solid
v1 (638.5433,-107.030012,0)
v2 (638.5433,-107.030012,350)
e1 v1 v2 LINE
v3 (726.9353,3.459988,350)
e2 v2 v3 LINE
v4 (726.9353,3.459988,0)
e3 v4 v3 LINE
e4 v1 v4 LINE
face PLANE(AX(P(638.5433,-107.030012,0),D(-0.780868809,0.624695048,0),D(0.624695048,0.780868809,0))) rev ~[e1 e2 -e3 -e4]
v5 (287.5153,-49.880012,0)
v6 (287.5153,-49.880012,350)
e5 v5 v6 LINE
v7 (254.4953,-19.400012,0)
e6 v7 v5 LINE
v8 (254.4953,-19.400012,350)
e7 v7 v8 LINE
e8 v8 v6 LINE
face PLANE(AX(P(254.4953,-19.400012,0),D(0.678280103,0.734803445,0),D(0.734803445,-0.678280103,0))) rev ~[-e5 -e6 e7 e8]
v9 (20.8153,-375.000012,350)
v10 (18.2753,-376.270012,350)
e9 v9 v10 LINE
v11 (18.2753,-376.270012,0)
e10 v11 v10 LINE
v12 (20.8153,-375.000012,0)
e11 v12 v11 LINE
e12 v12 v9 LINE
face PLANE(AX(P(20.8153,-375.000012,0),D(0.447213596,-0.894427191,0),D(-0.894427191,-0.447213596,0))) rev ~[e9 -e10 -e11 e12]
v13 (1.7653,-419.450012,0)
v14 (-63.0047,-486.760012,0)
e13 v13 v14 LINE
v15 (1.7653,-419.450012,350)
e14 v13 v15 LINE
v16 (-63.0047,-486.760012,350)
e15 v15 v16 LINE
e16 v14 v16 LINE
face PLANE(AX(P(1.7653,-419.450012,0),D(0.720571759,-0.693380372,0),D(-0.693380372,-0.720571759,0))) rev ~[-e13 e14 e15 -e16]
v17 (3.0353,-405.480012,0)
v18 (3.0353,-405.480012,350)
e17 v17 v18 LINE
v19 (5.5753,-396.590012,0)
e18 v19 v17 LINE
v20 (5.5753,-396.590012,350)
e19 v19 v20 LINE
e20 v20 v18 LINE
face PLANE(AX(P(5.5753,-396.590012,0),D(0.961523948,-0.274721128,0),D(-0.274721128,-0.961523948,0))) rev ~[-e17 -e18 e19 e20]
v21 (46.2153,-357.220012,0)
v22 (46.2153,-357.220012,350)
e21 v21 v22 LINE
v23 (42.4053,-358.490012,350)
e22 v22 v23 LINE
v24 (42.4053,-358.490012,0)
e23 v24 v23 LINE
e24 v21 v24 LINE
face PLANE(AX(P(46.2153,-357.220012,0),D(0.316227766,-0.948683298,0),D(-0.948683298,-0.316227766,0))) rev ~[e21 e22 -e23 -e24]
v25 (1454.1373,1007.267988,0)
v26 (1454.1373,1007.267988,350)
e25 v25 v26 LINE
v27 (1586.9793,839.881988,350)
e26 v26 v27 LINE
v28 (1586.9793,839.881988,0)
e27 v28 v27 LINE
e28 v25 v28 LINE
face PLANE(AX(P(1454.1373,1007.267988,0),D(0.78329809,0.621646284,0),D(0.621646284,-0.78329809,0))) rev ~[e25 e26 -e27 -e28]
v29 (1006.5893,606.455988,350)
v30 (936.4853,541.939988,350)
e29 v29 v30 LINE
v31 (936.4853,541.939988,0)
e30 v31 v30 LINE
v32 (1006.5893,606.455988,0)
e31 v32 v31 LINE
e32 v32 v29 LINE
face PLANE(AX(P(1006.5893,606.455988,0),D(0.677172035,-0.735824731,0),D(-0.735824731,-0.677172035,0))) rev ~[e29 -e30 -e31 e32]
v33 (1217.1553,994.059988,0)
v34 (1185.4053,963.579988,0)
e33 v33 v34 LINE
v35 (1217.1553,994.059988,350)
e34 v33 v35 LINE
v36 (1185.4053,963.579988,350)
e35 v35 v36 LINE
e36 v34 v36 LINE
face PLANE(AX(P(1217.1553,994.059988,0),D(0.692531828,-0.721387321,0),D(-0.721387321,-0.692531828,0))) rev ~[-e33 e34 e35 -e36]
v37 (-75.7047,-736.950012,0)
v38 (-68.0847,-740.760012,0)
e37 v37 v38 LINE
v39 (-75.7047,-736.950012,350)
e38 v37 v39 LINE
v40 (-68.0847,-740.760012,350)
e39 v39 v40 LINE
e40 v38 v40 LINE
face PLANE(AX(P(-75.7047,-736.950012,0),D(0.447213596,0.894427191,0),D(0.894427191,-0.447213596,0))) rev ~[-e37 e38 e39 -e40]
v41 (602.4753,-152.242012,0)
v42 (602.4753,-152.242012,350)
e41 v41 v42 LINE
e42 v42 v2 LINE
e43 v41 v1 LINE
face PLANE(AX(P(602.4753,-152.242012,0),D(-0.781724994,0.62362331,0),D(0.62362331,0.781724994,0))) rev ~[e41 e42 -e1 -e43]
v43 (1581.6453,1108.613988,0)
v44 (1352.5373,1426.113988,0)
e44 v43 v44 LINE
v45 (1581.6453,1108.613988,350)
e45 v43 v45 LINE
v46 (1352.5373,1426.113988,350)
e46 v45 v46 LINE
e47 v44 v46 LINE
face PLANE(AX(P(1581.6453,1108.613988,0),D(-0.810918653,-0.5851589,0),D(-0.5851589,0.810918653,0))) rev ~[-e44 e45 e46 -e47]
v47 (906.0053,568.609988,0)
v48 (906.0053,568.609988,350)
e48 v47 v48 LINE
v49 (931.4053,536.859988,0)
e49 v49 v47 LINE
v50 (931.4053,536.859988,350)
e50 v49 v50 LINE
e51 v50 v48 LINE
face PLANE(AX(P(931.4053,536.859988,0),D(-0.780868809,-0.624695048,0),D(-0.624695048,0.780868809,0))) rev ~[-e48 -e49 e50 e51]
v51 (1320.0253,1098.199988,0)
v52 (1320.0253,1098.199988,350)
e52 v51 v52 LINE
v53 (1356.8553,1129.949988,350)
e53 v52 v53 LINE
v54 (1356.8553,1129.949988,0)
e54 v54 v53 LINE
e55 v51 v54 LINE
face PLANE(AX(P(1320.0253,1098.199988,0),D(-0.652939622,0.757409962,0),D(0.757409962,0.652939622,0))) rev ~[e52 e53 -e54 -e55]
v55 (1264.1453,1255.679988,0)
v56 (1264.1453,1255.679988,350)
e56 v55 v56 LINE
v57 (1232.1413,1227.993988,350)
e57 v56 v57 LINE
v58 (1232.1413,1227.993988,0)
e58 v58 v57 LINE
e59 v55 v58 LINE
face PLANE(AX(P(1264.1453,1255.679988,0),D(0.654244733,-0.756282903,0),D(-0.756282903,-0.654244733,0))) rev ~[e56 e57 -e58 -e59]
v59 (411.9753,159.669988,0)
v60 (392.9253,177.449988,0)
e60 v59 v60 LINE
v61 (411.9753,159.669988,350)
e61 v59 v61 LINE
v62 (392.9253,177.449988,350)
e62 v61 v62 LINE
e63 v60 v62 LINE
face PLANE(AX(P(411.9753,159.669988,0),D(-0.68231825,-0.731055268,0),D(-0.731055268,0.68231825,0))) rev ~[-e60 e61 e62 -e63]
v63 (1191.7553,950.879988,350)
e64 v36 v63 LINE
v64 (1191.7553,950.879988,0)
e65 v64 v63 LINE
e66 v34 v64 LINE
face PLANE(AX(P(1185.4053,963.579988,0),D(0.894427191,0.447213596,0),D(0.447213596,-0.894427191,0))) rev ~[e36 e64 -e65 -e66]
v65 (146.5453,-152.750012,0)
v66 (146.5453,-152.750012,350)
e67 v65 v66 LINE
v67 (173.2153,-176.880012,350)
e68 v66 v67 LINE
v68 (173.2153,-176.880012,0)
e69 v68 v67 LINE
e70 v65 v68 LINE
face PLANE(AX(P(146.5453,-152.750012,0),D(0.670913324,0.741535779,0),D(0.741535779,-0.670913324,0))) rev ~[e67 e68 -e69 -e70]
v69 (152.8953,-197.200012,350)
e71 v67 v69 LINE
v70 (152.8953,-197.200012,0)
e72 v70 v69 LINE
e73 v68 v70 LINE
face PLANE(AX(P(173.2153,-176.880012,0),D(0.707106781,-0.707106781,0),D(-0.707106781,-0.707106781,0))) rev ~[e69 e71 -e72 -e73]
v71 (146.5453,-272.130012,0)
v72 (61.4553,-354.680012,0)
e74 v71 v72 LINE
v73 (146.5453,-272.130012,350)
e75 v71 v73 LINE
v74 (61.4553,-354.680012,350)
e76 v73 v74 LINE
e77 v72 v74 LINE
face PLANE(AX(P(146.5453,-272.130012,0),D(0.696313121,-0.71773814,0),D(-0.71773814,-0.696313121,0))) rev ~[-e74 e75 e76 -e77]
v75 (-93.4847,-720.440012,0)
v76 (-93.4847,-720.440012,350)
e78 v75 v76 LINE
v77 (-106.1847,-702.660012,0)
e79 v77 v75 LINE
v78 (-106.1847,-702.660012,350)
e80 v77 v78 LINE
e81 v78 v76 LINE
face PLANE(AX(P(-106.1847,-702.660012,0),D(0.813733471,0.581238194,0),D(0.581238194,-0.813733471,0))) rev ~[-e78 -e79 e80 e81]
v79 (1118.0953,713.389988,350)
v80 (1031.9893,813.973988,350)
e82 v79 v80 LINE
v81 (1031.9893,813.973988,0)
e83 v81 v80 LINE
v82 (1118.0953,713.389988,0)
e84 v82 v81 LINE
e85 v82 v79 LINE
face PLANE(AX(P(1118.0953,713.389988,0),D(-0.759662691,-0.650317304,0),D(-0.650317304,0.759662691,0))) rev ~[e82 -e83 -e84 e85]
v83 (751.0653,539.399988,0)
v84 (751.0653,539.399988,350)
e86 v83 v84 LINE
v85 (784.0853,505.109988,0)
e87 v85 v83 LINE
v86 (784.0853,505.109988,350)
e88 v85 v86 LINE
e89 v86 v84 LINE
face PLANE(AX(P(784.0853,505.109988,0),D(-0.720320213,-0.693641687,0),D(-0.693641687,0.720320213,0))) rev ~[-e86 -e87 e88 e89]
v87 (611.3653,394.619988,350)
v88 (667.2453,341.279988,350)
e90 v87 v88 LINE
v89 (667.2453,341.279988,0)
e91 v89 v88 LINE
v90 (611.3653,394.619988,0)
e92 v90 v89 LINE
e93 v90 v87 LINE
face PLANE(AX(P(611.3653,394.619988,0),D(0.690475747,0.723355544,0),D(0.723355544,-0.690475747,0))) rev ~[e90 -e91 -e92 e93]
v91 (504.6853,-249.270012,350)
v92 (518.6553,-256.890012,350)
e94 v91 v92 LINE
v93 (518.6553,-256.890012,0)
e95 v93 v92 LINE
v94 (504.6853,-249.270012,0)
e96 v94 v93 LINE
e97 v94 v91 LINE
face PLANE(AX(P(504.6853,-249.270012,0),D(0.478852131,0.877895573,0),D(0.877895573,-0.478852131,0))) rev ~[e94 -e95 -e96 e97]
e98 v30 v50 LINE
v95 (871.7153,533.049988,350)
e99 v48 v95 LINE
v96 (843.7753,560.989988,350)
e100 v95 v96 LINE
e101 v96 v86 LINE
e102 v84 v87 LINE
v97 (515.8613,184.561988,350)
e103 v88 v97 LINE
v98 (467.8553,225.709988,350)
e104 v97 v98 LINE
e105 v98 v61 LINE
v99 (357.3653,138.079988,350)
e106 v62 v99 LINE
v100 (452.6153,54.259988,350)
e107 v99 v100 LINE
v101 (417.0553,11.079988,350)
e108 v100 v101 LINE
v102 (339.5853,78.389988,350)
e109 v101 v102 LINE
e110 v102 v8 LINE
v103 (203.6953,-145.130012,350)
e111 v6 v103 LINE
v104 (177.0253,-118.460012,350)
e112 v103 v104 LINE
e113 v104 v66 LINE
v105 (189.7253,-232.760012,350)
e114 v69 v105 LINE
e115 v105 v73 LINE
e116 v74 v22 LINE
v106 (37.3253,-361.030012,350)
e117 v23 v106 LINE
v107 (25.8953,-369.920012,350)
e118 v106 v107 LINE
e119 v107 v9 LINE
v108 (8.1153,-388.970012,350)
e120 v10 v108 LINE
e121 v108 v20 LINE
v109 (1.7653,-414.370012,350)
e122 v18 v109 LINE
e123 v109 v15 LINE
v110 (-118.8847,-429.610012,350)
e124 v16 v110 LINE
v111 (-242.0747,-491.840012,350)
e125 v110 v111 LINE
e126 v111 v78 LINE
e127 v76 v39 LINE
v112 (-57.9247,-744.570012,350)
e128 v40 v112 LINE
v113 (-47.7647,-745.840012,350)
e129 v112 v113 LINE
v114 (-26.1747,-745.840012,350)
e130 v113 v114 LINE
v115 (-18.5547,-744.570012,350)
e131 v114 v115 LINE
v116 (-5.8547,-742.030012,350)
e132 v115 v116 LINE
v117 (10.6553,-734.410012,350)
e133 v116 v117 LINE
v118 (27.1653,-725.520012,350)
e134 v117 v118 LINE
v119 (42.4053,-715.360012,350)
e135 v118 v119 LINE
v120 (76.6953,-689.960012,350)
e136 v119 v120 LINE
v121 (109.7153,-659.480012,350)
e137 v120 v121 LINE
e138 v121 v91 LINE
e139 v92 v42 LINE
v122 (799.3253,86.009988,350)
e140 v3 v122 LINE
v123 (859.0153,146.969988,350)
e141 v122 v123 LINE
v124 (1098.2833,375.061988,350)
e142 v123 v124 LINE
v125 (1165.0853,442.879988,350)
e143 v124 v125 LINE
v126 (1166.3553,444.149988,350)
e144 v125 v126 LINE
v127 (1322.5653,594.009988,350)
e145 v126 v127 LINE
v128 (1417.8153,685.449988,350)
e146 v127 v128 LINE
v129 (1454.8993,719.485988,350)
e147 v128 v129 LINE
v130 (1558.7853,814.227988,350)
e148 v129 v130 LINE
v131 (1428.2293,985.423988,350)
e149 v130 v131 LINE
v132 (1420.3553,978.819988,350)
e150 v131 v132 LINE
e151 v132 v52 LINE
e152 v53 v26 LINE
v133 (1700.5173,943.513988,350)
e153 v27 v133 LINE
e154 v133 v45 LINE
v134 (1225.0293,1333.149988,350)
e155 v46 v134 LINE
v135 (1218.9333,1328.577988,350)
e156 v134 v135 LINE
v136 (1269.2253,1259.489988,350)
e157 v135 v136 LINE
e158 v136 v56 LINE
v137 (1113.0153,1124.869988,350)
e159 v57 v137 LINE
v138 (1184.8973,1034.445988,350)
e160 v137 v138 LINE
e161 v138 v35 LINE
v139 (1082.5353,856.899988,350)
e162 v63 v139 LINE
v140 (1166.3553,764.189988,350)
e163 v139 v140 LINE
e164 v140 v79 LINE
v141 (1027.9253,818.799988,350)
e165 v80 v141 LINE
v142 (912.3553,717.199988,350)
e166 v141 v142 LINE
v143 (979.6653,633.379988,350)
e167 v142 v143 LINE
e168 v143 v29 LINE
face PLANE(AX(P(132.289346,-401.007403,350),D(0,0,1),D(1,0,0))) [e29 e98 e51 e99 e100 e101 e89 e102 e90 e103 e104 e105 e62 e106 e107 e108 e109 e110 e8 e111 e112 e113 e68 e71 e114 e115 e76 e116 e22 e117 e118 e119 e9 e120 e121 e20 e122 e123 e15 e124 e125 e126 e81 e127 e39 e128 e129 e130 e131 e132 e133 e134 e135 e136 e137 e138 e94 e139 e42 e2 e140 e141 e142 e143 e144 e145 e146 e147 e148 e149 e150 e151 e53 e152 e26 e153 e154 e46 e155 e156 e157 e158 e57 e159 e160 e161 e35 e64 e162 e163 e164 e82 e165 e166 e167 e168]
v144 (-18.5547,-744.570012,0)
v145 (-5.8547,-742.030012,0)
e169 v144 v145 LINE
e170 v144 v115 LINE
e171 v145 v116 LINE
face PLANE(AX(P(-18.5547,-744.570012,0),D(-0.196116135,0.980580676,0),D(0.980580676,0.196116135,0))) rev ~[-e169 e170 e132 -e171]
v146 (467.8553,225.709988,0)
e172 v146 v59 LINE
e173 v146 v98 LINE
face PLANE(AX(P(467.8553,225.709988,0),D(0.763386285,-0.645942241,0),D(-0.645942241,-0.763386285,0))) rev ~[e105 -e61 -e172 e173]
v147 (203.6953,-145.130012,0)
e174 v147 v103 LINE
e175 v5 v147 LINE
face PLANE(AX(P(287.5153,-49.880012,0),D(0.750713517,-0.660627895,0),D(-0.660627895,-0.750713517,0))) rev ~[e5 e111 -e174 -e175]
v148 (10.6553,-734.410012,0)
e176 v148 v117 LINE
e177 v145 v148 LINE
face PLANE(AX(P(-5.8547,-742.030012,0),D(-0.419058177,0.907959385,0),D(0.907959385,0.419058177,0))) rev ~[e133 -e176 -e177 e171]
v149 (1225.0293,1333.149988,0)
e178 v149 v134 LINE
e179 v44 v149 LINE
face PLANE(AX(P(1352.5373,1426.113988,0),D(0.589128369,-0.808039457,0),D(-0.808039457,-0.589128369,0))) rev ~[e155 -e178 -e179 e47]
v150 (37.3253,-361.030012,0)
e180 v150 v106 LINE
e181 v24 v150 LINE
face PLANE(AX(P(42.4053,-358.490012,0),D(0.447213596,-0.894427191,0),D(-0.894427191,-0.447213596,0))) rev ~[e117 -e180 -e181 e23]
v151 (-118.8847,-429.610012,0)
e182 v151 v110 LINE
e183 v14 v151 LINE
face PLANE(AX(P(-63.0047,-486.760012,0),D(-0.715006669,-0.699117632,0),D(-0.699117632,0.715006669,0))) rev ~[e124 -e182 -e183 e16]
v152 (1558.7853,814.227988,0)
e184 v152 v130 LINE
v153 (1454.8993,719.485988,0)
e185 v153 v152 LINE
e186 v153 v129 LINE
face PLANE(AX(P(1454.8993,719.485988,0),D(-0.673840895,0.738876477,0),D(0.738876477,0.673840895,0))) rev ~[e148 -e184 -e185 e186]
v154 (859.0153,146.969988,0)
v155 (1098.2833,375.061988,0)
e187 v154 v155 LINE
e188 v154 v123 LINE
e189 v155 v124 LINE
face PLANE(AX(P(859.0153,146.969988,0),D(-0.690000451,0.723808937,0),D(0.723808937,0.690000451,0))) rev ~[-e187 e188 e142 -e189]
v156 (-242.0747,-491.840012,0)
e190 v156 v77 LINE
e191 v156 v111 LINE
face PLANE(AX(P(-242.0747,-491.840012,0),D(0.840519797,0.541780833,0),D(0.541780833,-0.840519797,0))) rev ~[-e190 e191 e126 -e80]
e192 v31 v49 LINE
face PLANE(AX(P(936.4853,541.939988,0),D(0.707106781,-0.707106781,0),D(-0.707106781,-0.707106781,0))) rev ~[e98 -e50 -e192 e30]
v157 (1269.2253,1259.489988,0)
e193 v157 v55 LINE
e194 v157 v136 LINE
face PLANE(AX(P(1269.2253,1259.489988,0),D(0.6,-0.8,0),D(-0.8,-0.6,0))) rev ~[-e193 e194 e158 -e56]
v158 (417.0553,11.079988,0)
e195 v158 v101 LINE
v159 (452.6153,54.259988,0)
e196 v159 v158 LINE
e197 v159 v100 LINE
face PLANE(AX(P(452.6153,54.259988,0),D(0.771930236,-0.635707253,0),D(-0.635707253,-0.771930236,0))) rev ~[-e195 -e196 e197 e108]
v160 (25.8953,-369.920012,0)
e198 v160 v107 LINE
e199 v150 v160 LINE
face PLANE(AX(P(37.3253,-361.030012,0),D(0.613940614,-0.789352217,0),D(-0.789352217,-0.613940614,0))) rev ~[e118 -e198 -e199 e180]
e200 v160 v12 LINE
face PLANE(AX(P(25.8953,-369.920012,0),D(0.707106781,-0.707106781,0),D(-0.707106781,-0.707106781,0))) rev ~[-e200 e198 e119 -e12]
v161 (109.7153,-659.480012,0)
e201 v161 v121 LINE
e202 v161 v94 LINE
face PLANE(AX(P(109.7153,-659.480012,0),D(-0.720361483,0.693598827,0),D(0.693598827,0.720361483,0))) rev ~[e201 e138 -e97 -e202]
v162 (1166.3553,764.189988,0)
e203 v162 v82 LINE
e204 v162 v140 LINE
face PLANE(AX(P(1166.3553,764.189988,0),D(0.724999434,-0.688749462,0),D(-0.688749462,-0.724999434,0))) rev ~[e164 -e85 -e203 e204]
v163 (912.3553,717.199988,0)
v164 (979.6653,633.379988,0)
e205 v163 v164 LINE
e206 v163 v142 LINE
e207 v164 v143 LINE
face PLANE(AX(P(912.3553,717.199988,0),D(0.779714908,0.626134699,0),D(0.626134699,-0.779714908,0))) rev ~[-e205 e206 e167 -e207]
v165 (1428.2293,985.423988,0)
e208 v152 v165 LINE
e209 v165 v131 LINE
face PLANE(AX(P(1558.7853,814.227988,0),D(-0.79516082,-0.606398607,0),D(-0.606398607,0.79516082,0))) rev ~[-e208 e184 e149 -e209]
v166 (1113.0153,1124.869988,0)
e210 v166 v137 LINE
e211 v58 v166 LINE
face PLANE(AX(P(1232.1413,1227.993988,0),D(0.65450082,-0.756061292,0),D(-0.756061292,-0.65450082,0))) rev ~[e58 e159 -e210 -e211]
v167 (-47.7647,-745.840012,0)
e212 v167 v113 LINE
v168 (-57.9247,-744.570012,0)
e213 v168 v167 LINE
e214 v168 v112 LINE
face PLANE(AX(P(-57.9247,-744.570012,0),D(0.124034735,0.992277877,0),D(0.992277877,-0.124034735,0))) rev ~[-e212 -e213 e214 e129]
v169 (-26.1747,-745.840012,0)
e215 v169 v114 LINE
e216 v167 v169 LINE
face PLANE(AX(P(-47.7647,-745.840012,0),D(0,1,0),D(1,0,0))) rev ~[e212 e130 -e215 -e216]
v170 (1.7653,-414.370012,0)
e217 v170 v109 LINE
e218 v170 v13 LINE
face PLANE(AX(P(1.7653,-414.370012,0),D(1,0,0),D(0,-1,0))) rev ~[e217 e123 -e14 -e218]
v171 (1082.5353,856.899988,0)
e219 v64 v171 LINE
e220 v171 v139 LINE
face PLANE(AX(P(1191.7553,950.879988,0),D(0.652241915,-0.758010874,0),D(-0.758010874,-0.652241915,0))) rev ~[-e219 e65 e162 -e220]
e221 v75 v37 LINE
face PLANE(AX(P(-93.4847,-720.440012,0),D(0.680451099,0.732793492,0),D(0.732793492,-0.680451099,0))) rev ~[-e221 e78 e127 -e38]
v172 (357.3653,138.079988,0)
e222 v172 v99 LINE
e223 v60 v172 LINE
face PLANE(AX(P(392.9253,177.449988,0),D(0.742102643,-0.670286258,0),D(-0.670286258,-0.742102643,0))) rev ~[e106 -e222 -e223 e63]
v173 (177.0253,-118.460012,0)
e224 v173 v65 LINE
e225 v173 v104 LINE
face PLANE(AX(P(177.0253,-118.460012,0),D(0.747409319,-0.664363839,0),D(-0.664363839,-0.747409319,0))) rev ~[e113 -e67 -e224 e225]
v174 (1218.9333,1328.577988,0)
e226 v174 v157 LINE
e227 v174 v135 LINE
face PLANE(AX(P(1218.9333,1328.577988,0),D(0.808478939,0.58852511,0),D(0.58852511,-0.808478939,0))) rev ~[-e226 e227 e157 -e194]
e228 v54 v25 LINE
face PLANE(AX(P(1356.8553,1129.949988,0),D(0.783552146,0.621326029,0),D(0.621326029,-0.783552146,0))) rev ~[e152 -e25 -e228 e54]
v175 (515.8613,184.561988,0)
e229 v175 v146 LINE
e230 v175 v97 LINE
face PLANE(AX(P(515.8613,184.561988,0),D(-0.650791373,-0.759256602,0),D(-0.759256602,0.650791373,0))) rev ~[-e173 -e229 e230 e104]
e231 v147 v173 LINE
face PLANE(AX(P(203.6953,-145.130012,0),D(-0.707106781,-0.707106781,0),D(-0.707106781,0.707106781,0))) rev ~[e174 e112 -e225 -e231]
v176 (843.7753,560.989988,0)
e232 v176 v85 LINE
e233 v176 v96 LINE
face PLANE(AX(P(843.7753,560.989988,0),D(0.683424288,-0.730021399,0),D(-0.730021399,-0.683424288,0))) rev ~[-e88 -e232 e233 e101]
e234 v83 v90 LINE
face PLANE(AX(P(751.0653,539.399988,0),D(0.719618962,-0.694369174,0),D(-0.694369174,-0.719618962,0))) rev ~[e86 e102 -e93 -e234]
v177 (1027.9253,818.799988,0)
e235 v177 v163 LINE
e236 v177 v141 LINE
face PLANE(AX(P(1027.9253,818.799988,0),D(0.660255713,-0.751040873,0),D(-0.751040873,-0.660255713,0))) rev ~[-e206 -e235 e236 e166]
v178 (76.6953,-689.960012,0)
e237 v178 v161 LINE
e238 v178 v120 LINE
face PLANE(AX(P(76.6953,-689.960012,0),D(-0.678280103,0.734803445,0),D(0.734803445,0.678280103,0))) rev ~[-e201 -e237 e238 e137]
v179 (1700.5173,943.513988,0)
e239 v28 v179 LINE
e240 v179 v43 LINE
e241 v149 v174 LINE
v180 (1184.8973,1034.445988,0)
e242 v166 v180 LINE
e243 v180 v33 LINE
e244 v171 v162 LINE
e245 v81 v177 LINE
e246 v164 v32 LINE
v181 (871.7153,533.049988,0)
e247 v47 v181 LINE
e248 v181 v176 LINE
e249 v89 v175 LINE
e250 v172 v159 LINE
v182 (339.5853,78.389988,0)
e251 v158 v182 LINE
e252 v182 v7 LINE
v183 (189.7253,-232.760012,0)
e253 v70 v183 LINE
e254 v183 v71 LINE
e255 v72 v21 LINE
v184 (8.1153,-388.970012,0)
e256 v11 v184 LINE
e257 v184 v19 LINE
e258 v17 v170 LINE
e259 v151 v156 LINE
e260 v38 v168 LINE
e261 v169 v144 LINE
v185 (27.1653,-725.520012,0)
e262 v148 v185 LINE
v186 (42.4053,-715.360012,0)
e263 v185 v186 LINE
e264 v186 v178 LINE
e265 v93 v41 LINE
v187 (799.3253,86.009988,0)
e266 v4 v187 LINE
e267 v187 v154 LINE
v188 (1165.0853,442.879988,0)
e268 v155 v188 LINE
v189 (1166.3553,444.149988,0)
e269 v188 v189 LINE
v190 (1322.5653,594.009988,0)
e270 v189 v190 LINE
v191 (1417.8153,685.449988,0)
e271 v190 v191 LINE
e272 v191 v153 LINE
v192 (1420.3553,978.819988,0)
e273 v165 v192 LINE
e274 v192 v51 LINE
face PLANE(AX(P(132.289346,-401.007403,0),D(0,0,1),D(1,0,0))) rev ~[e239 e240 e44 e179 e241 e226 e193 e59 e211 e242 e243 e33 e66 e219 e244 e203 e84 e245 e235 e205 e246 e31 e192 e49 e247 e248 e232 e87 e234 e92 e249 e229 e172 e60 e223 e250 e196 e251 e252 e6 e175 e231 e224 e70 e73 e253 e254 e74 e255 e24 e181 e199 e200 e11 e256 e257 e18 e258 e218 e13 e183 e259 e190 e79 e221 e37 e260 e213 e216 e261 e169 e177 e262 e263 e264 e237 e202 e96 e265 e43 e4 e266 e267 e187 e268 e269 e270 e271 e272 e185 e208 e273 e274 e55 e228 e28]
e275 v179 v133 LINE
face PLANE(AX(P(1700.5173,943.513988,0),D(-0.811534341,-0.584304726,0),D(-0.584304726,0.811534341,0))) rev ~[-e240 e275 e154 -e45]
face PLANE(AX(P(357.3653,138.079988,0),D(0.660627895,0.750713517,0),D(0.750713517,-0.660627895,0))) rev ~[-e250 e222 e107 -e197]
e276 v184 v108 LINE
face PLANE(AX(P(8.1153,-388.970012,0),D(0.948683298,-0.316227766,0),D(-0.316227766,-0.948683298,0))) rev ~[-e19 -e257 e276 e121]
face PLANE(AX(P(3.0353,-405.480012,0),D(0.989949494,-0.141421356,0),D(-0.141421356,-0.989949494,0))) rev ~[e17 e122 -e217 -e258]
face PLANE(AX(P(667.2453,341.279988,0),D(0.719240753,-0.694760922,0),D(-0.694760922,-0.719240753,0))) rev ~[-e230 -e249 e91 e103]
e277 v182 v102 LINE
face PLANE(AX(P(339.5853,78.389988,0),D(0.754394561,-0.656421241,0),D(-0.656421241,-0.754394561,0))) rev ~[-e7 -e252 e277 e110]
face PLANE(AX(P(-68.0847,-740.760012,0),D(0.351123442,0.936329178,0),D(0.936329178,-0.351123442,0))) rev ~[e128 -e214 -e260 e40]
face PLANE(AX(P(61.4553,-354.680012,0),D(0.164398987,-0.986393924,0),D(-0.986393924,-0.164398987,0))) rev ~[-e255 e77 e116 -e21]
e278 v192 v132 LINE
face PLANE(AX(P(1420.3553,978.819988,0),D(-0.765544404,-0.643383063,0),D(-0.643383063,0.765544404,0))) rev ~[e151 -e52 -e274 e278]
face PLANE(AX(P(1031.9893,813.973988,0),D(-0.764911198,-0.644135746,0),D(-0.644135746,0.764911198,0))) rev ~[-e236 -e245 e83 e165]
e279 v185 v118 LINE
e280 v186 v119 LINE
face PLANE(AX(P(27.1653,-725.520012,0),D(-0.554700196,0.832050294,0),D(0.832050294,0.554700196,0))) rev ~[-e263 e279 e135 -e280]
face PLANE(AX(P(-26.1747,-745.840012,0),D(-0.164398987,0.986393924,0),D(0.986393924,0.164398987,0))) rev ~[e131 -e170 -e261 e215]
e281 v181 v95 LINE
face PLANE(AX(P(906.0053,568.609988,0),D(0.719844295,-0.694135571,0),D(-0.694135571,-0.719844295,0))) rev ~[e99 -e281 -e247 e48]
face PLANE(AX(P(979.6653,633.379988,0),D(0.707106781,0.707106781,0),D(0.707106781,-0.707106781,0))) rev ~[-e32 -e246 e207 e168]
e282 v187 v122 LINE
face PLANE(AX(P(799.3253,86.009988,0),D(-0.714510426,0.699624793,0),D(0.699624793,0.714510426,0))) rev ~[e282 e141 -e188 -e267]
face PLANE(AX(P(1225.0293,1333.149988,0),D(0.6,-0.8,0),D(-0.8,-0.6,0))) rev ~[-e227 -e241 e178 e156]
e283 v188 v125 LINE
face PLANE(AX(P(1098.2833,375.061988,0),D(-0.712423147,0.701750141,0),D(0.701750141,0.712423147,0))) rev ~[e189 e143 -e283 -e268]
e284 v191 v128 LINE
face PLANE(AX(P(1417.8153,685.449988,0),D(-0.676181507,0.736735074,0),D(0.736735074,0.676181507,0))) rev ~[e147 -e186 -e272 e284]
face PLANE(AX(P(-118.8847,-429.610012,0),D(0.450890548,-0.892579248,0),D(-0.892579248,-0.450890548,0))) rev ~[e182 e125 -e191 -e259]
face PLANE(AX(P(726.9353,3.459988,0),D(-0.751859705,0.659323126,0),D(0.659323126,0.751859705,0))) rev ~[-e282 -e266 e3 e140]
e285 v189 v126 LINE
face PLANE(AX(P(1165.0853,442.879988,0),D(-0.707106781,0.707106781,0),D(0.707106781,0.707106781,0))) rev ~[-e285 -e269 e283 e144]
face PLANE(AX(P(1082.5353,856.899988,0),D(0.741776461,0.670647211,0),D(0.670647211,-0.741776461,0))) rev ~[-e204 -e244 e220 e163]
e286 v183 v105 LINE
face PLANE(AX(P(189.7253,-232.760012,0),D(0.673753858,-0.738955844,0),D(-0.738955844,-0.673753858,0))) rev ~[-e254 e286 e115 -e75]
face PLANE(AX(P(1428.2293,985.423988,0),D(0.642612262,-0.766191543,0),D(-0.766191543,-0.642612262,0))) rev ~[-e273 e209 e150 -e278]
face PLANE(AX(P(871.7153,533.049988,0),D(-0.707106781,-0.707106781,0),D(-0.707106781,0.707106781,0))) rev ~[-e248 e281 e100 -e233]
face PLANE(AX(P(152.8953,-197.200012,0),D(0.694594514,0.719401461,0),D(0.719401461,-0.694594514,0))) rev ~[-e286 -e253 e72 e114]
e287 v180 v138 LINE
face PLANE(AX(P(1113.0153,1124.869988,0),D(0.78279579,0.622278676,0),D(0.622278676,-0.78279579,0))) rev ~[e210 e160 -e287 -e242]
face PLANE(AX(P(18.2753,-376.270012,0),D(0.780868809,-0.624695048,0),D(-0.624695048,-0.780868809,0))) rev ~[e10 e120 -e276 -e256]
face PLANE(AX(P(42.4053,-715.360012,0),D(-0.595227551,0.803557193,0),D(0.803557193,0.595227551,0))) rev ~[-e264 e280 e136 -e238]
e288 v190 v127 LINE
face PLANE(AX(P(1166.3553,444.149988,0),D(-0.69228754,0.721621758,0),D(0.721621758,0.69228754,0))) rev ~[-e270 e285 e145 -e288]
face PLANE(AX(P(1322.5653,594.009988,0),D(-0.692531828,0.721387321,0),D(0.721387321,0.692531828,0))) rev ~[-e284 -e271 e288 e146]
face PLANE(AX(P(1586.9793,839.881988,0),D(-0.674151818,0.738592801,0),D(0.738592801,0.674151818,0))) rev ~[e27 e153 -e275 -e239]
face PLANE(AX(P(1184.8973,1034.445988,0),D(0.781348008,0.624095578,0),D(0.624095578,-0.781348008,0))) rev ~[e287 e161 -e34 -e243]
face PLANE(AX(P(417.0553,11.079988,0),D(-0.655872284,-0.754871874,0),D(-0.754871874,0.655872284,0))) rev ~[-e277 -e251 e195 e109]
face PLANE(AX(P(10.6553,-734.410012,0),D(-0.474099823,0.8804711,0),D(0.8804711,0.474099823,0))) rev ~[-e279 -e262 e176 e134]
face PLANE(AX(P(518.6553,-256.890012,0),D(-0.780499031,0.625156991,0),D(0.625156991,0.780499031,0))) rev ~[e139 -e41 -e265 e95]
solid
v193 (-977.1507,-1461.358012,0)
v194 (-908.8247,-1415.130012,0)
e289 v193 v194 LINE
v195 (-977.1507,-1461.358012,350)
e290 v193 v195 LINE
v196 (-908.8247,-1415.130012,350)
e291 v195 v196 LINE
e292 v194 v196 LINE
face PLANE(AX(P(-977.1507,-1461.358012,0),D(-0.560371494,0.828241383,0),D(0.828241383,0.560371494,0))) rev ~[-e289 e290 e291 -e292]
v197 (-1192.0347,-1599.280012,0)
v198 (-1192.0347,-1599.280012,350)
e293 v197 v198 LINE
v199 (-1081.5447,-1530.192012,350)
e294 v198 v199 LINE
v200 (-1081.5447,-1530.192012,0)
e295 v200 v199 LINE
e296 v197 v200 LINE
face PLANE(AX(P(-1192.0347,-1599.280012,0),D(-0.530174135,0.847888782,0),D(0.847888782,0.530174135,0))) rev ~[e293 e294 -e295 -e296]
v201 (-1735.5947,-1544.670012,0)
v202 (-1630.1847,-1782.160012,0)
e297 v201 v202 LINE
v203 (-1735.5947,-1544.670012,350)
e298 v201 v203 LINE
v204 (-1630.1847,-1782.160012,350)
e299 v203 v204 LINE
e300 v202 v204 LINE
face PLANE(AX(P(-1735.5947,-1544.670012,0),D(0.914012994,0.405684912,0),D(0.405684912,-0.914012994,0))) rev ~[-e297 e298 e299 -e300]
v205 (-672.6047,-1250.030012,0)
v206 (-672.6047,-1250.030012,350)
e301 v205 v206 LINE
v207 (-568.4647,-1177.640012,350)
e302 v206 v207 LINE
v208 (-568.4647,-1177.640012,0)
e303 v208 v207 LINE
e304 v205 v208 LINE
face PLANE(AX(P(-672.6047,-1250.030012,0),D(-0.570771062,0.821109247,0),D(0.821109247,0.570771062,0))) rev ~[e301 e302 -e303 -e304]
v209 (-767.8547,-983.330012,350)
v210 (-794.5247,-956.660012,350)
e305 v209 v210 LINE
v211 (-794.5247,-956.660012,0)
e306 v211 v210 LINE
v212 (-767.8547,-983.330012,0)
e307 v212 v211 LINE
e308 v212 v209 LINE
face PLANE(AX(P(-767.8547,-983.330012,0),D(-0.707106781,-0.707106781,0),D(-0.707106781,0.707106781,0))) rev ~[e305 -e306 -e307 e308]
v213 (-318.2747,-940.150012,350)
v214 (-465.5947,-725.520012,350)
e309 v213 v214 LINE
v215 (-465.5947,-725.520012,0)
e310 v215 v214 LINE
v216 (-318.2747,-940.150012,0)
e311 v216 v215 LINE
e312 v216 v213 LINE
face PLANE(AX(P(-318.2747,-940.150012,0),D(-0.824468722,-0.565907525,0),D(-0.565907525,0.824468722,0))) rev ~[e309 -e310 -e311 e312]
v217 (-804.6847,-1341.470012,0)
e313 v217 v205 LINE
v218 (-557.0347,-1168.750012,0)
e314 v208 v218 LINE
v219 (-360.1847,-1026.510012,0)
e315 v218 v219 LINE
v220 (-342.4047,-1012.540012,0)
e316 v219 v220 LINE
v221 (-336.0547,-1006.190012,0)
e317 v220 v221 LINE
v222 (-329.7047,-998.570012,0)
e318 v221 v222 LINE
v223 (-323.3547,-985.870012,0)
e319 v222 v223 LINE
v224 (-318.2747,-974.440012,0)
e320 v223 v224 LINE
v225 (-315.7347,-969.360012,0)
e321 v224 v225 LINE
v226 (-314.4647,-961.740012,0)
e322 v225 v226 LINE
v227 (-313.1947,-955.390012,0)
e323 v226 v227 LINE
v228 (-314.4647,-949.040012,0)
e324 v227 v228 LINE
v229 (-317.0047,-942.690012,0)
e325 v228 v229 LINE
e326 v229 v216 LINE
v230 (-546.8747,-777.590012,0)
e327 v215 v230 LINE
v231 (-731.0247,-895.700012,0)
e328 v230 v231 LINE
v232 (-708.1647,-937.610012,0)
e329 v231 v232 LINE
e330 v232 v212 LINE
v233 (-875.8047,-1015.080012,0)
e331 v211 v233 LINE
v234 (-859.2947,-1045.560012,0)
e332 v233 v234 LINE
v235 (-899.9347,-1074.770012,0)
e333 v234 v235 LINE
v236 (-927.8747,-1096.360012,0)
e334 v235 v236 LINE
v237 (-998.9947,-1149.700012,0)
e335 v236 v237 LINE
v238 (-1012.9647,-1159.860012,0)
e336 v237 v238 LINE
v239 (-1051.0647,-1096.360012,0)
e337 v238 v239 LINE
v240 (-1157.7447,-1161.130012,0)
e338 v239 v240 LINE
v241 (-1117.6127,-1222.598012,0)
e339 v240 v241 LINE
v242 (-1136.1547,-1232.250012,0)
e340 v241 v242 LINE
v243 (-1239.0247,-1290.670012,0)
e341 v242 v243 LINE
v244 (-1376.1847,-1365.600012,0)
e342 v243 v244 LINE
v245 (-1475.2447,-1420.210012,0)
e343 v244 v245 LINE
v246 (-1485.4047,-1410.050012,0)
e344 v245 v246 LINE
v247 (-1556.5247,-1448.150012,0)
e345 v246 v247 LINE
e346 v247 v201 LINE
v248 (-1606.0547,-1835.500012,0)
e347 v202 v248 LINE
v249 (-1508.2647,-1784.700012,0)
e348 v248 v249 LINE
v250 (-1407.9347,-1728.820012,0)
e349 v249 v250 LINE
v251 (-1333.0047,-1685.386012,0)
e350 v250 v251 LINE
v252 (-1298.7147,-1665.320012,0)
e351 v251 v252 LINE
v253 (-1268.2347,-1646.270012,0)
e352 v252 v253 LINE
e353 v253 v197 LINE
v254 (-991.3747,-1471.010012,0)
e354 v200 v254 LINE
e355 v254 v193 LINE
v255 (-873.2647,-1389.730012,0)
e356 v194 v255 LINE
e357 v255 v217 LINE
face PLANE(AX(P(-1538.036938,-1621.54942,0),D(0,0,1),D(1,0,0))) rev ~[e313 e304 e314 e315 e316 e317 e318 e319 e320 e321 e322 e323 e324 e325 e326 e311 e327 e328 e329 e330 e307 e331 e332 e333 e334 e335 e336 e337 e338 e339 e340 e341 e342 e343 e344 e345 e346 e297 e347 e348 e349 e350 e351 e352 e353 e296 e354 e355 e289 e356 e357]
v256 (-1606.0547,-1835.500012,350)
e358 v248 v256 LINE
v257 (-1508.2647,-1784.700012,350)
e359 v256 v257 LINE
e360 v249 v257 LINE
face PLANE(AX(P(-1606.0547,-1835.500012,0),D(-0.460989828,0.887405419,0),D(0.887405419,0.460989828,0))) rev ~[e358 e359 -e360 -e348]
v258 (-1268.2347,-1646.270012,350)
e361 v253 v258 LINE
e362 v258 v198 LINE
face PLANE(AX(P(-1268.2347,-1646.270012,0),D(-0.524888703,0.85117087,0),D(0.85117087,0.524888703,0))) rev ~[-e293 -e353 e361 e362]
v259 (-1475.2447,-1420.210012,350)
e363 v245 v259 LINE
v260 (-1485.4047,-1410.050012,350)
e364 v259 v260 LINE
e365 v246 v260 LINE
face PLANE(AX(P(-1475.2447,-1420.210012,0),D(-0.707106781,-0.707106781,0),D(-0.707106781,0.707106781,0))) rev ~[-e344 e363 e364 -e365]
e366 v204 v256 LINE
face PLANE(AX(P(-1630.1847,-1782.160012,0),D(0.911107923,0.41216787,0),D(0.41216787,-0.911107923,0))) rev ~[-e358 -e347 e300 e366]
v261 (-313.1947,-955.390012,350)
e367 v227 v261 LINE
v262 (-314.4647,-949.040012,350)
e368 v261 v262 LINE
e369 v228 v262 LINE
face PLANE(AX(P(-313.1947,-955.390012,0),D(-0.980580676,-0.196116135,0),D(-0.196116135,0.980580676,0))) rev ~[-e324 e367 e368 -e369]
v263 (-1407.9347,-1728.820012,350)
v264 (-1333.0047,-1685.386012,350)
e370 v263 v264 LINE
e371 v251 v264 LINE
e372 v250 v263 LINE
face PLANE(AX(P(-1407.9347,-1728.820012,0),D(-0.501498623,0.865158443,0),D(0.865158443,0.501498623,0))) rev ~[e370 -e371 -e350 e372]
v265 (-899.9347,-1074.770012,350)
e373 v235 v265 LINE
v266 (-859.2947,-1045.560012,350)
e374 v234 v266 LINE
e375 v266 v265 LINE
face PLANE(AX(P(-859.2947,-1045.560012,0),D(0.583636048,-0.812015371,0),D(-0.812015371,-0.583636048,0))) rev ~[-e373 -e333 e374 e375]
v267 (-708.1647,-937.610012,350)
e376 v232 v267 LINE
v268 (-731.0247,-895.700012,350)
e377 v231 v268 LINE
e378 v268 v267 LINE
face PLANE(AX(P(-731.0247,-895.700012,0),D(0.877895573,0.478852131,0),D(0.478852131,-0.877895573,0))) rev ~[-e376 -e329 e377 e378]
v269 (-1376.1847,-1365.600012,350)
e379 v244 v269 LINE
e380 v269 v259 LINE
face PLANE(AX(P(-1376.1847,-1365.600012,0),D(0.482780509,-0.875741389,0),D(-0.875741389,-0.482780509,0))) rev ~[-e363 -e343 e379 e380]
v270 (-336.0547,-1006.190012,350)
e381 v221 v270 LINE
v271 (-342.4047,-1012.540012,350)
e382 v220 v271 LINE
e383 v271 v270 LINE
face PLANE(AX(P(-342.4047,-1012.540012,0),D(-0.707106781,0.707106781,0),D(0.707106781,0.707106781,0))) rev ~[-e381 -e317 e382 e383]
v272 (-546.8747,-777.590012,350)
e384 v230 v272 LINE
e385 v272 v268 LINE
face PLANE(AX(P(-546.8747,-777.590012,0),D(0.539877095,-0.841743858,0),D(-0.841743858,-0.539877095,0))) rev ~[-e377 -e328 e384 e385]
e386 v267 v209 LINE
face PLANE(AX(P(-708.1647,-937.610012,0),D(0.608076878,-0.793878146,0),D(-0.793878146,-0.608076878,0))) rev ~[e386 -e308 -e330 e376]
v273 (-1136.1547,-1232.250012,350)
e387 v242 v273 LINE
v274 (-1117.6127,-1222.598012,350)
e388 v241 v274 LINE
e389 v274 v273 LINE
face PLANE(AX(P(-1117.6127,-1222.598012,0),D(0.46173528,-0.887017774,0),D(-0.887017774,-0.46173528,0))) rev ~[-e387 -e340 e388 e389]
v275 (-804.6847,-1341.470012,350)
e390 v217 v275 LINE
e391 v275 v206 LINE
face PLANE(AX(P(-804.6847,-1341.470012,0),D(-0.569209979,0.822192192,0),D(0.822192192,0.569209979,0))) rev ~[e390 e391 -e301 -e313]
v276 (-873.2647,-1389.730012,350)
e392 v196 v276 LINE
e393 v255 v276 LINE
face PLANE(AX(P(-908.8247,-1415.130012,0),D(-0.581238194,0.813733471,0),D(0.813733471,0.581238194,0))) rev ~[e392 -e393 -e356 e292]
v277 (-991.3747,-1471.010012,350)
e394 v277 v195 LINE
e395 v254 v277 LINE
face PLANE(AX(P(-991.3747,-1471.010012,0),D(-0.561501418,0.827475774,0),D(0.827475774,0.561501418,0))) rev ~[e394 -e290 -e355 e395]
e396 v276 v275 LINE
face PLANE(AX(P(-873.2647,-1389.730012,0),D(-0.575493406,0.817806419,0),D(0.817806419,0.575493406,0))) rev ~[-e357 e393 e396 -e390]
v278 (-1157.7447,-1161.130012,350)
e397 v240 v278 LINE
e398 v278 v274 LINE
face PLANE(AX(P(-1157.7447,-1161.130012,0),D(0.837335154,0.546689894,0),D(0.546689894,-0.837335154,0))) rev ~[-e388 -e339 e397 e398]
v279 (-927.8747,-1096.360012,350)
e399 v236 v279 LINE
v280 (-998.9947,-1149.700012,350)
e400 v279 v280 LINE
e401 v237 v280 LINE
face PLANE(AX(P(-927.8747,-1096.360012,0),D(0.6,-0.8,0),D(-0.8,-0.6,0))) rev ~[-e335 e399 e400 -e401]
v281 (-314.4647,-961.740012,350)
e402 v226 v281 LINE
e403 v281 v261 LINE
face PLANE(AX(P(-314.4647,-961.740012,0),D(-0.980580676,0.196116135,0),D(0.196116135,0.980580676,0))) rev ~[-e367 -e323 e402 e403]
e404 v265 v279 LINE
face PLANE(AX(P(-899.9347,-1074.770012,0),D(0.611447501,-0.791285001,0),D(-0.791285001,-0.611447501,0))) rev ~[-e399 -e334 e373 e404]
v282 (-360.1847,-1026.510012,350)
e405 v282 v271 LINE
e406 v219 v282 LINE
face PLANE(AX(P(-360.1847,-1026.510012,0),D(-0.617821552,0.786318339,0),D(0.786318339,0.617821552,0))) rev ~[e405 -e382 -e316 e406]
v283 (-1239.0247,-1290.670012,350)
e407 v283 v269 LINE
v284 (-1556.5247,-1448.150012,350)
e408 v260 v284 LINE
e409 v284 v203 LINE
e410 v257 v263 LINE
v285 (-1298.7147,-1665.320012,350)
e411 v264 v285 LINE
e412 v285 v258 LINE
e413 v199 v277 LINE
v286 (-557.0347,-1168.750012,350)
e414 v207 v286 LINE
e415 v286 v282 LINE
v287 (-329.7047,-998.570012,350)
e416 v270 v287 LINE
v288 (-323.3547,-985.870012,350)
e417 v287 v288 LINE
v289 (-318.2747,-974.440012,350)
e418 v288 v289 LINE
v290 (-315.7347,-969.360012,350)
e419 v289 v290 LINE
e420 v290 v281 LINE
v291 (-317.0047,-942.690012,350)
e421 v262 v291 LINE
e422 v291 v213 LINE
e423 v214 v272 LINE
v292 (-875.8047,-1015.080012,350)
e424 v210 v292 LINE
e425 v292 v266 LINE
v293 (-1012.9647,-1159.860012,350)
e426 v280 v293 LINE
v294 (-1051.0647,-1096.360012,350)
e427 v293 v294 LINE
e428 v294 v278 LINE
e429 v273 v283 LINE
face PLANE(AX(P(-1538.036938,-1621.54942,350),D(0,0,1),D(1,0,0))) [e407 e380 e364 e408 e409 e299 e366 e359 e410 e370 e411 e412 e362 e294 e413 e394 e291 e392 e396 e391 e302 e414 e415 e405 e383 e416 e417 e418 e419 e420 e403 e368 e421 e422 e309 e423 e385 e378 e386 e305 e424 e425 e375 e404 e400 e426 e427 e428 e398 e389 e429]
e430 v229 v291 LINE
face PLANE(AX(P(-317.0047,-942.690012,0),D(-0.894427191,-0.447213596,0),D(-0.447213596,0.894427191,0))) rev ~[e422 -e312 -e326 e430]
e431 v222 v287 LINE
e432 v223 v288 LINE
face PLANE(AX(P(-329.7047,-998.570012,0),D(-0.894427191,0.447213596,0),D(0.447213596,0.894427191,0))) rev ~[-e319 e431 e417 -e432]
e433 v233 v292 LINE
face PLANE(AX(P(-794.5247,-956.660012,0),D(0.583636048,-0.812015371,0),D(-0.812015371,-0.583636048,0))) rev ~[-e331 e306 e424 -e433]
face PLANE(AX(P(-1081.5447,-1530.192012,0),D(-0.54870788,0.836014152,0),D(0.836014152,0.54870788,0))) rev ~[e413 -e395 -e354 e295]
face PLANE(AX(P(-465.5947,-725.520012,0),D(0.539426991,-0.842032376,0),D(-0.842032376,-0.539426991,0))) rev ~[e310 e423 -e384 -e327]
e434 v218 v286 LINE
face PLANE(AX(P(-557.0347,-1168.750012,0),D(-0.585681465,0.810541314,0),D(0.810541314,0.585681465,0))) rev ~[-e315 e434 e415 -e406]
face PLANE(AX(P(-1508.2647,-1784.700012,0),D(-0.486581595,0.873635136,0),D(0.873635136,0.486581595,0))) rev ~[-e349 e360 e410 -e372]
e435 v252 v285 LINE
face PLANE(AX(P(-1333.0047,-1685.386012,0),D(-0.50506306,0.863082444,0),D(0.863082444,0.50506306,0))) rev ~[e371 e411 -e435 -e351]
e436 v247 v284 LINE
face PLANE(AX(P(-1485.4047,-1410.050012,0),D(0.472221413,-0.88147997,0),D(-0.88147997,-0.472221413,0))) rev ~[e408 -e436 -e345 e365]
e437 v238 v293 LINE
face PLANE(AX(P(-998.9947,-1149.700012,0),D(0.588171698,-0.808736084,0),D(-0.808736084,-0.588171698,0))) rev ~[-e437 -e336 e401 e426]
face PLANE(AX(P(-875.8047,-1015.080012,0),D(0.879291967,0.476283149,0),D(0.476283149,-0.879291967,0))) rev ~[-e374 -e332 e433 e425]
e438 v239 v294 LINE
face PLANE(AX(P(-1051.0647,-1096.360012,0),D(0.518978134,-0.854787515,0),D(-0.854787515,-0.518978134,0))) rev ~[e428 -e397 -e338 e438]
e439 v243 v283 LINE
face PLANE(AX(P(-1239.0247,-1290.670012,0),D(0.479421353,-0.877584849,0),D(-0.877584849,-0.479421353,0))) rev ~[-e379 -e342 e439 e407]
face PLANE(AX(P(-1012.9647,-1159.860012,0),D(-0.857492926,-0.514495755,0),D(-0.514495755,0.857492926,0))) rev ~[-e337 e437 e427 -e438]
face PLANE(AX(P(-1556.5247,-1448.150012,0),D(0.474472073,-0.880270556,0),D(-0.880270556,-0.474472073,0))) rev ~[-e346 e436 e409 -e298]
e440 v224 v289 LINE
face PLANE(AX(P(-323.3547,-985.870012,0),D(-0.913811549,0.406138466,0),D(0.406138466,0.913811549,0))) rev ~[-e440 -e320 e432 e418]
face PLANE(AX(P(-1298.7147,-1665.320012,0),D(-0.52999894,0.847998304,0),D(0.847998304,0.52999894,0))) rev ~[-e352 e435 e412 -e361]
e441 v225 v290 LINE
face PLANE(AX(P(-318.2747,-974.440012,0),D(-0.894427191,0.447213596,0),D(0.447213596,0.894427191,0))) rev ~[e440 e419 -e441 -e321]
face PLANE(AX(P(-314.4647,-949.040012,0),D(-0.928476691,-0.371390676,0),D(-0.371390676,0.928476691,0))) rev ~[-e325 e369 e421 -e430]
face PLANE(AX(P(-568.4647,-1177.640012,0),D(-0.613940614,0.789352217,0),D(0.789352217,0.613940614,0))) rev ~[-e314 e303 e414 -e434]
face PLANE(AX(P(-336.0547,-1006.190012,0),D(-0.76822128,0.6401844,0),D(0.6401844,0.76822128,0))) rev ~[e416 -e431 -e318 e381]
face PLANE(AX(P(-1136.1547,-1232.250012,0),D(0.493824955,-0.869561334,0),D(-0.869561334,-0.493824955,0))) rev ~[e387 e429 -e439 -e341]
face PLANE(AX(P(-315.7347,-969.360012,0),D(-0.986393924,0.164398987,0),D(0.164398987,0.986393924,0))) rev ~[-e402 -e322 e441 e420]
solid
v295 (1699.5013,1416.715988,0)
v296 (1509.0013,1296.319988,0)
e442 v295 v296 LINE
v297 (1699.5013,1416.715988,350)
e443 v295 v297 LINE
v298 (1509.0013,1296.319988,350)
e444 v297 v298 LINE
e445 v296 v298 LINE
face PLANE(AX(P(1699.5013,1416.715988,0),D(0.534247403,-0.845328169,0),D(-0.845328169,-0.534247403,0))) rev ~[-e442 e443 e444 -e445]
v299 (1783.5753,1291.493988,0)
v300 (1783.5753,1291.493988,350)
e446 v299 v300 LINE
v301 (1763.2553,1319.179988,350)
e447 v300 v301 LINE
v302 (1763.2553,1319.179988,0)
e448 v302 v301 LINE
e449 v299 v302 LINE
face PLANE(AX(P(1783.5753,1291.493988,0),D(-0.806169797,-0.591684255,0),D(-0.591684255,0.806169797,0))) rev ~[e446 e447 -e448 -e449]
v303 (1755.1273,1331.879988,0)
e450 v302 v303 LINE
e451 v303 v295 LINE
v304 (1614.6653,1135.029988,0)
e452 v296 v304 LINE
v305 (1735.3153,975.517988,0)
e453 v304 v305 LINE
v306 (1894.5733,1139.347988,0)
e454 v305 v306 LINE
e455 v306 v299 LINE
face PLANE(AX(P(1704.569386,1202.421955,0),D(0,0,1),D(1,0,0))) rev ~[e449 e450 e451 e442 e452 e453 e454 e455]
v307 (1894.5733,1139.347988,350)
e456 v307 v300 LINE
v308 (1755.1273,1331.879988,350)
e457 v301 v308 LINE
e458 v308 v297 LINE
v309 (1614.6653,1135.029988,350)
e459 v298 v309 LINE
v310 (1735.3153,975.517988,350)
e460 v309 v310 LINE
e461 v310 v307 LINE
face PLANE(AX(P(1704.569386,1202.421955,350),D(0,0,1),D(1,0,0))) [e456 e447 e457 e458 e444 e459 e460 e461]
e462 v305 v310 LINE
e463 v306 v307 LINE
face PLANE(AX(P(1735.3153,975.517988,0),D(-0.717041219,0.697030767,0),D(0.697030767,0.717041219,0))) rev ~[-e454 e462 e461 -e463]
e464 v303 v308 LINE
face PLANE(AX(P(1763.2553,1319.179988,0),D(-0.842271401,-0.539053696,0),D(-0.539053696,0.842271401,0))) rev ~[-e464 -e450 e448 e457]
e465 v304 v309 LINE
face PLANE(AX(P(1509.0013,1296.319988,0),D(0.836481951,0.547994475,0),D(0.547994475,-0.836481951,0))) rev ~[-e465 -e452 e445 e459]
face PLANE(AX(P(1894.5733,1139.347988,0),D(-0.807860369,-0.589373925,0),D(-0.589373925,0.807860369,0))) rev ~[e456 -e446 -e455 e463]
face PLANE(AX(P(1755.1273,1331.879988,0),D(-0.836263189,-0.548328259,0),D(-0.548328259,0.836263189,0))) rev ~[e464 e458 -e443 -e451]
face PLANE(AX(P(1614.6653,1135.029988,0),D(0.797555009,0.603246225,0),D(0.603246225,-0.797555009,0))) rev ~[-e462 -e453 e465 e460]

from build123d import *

# Parameters (mm, degrees)
F1_DEPTH = 350


with BuildPart() as f1:
    # F0 (on Top) → F1 (new body)
    with BuildSketch(Plane.XY):
        Polygon((-1735.5947, -1544.670012), (-1630.1847, -1782.160012), (-1606.0547, -1835.500012), (-1508.2647, -1784.700012), (-1407.9347, -1728.820012), (-1333.0047, -1685.386012), (-1443.4947, -1505.300012), (-1432.0647, -1497.680012), (-1475.2447, -1420.210012), (-1485.4047, -1410.050012), (-1556.5247, -1448.150012), align=None)
        Polygon((-1443.4947, -1505.300012), (-1333.0047, -1685.386012), (-1298.7147, -1665.320012), (-1268.2347, -1646.270012), (-1192.0347, -1599.280012), (-1081.5447, -1530.192012), (-1239.0247, -1290.670012), (-1376.1847, -1365.600012), (-1475.2447, -1420.210012), (-1432.0647, -1497.680012), align=None)
        Polygon((-1136.1547, -1232.250012), (-1239.0247, -1290.670012), (-1081.5447, -1530.192012), (-991.3747, -1471.010012), (-977.1507, -1461.358012), (-1117.6127, -1222.598012), align=None)
        Polygon((-1157.7447, -1161.130012), (-1117.6127, -1222.598012), (-977.1507, -1461.358012), (-908.8247, -1415.130012), (-873.2647, -1389.730012), (-1012.9647, -1159.860012), (-1051.0647, -1096.360012), align=None)
        Polygon((-557.0347, -1168.750012), (-708.1647, -937.610012), (-767.8547, -983.330012), (-794.5247, -956.660012), (-875.8047, -1015.080012), (-859.2947, -1045.560012), (-899.9347, -1074.770012), (-927.8747, -1096.360012), (-998.9947, -1149.700012), (-1012.9647, -1159.860012), (-873.2647, -1389.730012), (-804.6847, -1341.470012), (-672.6047, -1250.030012), (-568.4647, -1177.640012), align=None)
        Polygon((-546.8747, -777.590012), (-731.0247, -895.700012), (-708.1647, -937.610012), (-557.0347, -1168.750012), (-360.1847, -1026.510012), align=None)
        Polygon((-465.5947, -725.520012), (-546.8747, -777.590012), (-360.1847, -1026.510012), (-342.4047, -1012.540012), (-336.0547, -1006.190012), (-329.7047, -998.570012), (-323.3547, -985.870012), (-318.2747, -974.440012), (-315.7347, -969.360012), (-314.4647, -961.740012), (-313.1947, -955.390012), (-314.4647, -949.040012), (-317.0047, -942.690012), (-318.2747, -940.150012), align=None)
        Polygon((-118.8847, -429.610012), (-242.0747, -491.840012), (-106.1847, -702.660012), (-93.4847, -720.440012), (-75.7047, -736.950012), (-68.0847, -740.760012), (-57.9247, -744.570012), (-47.7647, -745.840012), (-26.1747, -745.840012), (-18.5547, -744.570012), (-5.8547, -742.030012), (10.6553, -734.410012), (27.1653, -725.520012), (42.4053, -715.360012), (76.6953, -689.960012), (109.7153, -659.480012), (504.6853, -249.270012), (352.2853, -113.380012), (287.5153, -49.880012), (203.6953, -145.130012), (177.0253, -118.460012), (146.5453, -152.750012), (173.2153, -176.880012), (152.8953, -197.200012), (189.7253, -232.760012), (146.5453, -272.130012), (61.4553, -354.680012), (46.2153, -357.220012), (42.4053, -358.490012), (37.3253, -361.030012), (25.8953, -369.920012), (20.8153, -375.000012), (18.2753, -376.270012), (8.1153, -388.970012), (5.5753, -396.590012), (3.0353, -405.480012), (1.7653, -414.370012), (1.7653, -419.450012), (-63.0047, -486.760012), align=None)
        Polygon((352.2853, -113.380012), (504.6853, -249.270012), (518.6553, -256.890012), (602.4753, -152.242012), (439.9153, -11.780012), (417.0553, 11.079988), (339.5853, 78.389988), (254.4953, -19.400012), (287.5153, -49.880012), align=None)
        Polygon((452.6153, 54.259988), (638.5433, -107.030012), (726.9353, 3.459988), (515.8613, 184.561988), (467.8553, 225.709988), (411.9753, 159.669988), (392.9253, 177.449988), (357.3653, 138.079988), align=None)
        Polygon((439.9153, -11.780012), (602.4753, -152.242012), (638.5433, -107.030012), (452.6153, 54.259988), (417.0553, 11.079988), align=None)
        Polygon((515.8613, 184.561988), (726.9353, 3.459988), (799.3253, 86.009988), (859.0153, 146.969988), (779.0053, 229.519988), (667.2453, 341.279988), align=None)
        Polygon((779.0053, 229.519988), (859.0153, 146.969988), (1098.2833, 375.061988), (931.4053, 536.859988), (906.0053, 568.609988), (871.7153, 533.049988), (843.7753, 560.989988), (784.0853, 505.109988), (751.0653, 539.399988), (611.3653, 394.619988), (667.2453, 341.279988), align=None)
        Polygon((931.4053, 536.859988), (1098.2833, 375.061988), (1165.0853, 442.879988), (1006.5893, 606.455988), (936.4853, 541.939988), align=None)
        Polygon((1006.5893, 606.455988), (1165.0853, 442.879988), (1166.3553, 444.149988), (1322.5653, 594.009988), (1166.3553, 764.189988), (1118.0953, 713.389988), (1031.9893, 813.973988), (1027.9253, 818.799988), (912.3553, 717.199988), (979.6653, 633.379988), align=None)
        Polygon((1166.3553, 764.189988), (1322.5653, 594.009988), (1417.8153, 685.449988), (1454.8993, 719.485988), (1283.1953, 912.779988), (1217.1553, 994.059988), (1185.4053, 963.579988), (1191.7553, 950.879988), (1082.5353, 856.899988), align=None)
        Polygon((1283.1953, 912.779988), (1454.8993, 719.485988), (1558.7853, 814.227988), (1428.2293, 985.423988), (1420.3553, 978.819988), (1320.0253, 1098.199988), (1356.8553, 1129.949988), (1269.2253, 1259.489988), (1264.1453, 1255.679988), (1232.1413, 1227.993988), (1113.0153, 1124.869988), (1184.8973, 1034.445988), (1217.1553, 994.059988), align=None)
        Polygon((1454.1373, 1007.267988), (1586.9793, 839.881988), (1700.5173, 943.513988), (1581.6453, 1108.613988), (1352.5373, 1426.113988), (1225.0293, 1333.149988), (1218.9333, 1328.577988), (1269.2253, 1259.489988), (1356.8553, 1129.949988), align=None)
        Polygon((1614.6653, 1135.029988), (1735.3153, 975.517988), (1894.5733, 1139.347988), (1783.5753, 1291.493988), (1763.2553, 1319.179988), (1755.1273, 1331.879988), (1699.5013, 1416.715988), (1509.0013, 1296.319988), align=None)
    extrude(amount=F1_DEPTH)


solid = f1.part
